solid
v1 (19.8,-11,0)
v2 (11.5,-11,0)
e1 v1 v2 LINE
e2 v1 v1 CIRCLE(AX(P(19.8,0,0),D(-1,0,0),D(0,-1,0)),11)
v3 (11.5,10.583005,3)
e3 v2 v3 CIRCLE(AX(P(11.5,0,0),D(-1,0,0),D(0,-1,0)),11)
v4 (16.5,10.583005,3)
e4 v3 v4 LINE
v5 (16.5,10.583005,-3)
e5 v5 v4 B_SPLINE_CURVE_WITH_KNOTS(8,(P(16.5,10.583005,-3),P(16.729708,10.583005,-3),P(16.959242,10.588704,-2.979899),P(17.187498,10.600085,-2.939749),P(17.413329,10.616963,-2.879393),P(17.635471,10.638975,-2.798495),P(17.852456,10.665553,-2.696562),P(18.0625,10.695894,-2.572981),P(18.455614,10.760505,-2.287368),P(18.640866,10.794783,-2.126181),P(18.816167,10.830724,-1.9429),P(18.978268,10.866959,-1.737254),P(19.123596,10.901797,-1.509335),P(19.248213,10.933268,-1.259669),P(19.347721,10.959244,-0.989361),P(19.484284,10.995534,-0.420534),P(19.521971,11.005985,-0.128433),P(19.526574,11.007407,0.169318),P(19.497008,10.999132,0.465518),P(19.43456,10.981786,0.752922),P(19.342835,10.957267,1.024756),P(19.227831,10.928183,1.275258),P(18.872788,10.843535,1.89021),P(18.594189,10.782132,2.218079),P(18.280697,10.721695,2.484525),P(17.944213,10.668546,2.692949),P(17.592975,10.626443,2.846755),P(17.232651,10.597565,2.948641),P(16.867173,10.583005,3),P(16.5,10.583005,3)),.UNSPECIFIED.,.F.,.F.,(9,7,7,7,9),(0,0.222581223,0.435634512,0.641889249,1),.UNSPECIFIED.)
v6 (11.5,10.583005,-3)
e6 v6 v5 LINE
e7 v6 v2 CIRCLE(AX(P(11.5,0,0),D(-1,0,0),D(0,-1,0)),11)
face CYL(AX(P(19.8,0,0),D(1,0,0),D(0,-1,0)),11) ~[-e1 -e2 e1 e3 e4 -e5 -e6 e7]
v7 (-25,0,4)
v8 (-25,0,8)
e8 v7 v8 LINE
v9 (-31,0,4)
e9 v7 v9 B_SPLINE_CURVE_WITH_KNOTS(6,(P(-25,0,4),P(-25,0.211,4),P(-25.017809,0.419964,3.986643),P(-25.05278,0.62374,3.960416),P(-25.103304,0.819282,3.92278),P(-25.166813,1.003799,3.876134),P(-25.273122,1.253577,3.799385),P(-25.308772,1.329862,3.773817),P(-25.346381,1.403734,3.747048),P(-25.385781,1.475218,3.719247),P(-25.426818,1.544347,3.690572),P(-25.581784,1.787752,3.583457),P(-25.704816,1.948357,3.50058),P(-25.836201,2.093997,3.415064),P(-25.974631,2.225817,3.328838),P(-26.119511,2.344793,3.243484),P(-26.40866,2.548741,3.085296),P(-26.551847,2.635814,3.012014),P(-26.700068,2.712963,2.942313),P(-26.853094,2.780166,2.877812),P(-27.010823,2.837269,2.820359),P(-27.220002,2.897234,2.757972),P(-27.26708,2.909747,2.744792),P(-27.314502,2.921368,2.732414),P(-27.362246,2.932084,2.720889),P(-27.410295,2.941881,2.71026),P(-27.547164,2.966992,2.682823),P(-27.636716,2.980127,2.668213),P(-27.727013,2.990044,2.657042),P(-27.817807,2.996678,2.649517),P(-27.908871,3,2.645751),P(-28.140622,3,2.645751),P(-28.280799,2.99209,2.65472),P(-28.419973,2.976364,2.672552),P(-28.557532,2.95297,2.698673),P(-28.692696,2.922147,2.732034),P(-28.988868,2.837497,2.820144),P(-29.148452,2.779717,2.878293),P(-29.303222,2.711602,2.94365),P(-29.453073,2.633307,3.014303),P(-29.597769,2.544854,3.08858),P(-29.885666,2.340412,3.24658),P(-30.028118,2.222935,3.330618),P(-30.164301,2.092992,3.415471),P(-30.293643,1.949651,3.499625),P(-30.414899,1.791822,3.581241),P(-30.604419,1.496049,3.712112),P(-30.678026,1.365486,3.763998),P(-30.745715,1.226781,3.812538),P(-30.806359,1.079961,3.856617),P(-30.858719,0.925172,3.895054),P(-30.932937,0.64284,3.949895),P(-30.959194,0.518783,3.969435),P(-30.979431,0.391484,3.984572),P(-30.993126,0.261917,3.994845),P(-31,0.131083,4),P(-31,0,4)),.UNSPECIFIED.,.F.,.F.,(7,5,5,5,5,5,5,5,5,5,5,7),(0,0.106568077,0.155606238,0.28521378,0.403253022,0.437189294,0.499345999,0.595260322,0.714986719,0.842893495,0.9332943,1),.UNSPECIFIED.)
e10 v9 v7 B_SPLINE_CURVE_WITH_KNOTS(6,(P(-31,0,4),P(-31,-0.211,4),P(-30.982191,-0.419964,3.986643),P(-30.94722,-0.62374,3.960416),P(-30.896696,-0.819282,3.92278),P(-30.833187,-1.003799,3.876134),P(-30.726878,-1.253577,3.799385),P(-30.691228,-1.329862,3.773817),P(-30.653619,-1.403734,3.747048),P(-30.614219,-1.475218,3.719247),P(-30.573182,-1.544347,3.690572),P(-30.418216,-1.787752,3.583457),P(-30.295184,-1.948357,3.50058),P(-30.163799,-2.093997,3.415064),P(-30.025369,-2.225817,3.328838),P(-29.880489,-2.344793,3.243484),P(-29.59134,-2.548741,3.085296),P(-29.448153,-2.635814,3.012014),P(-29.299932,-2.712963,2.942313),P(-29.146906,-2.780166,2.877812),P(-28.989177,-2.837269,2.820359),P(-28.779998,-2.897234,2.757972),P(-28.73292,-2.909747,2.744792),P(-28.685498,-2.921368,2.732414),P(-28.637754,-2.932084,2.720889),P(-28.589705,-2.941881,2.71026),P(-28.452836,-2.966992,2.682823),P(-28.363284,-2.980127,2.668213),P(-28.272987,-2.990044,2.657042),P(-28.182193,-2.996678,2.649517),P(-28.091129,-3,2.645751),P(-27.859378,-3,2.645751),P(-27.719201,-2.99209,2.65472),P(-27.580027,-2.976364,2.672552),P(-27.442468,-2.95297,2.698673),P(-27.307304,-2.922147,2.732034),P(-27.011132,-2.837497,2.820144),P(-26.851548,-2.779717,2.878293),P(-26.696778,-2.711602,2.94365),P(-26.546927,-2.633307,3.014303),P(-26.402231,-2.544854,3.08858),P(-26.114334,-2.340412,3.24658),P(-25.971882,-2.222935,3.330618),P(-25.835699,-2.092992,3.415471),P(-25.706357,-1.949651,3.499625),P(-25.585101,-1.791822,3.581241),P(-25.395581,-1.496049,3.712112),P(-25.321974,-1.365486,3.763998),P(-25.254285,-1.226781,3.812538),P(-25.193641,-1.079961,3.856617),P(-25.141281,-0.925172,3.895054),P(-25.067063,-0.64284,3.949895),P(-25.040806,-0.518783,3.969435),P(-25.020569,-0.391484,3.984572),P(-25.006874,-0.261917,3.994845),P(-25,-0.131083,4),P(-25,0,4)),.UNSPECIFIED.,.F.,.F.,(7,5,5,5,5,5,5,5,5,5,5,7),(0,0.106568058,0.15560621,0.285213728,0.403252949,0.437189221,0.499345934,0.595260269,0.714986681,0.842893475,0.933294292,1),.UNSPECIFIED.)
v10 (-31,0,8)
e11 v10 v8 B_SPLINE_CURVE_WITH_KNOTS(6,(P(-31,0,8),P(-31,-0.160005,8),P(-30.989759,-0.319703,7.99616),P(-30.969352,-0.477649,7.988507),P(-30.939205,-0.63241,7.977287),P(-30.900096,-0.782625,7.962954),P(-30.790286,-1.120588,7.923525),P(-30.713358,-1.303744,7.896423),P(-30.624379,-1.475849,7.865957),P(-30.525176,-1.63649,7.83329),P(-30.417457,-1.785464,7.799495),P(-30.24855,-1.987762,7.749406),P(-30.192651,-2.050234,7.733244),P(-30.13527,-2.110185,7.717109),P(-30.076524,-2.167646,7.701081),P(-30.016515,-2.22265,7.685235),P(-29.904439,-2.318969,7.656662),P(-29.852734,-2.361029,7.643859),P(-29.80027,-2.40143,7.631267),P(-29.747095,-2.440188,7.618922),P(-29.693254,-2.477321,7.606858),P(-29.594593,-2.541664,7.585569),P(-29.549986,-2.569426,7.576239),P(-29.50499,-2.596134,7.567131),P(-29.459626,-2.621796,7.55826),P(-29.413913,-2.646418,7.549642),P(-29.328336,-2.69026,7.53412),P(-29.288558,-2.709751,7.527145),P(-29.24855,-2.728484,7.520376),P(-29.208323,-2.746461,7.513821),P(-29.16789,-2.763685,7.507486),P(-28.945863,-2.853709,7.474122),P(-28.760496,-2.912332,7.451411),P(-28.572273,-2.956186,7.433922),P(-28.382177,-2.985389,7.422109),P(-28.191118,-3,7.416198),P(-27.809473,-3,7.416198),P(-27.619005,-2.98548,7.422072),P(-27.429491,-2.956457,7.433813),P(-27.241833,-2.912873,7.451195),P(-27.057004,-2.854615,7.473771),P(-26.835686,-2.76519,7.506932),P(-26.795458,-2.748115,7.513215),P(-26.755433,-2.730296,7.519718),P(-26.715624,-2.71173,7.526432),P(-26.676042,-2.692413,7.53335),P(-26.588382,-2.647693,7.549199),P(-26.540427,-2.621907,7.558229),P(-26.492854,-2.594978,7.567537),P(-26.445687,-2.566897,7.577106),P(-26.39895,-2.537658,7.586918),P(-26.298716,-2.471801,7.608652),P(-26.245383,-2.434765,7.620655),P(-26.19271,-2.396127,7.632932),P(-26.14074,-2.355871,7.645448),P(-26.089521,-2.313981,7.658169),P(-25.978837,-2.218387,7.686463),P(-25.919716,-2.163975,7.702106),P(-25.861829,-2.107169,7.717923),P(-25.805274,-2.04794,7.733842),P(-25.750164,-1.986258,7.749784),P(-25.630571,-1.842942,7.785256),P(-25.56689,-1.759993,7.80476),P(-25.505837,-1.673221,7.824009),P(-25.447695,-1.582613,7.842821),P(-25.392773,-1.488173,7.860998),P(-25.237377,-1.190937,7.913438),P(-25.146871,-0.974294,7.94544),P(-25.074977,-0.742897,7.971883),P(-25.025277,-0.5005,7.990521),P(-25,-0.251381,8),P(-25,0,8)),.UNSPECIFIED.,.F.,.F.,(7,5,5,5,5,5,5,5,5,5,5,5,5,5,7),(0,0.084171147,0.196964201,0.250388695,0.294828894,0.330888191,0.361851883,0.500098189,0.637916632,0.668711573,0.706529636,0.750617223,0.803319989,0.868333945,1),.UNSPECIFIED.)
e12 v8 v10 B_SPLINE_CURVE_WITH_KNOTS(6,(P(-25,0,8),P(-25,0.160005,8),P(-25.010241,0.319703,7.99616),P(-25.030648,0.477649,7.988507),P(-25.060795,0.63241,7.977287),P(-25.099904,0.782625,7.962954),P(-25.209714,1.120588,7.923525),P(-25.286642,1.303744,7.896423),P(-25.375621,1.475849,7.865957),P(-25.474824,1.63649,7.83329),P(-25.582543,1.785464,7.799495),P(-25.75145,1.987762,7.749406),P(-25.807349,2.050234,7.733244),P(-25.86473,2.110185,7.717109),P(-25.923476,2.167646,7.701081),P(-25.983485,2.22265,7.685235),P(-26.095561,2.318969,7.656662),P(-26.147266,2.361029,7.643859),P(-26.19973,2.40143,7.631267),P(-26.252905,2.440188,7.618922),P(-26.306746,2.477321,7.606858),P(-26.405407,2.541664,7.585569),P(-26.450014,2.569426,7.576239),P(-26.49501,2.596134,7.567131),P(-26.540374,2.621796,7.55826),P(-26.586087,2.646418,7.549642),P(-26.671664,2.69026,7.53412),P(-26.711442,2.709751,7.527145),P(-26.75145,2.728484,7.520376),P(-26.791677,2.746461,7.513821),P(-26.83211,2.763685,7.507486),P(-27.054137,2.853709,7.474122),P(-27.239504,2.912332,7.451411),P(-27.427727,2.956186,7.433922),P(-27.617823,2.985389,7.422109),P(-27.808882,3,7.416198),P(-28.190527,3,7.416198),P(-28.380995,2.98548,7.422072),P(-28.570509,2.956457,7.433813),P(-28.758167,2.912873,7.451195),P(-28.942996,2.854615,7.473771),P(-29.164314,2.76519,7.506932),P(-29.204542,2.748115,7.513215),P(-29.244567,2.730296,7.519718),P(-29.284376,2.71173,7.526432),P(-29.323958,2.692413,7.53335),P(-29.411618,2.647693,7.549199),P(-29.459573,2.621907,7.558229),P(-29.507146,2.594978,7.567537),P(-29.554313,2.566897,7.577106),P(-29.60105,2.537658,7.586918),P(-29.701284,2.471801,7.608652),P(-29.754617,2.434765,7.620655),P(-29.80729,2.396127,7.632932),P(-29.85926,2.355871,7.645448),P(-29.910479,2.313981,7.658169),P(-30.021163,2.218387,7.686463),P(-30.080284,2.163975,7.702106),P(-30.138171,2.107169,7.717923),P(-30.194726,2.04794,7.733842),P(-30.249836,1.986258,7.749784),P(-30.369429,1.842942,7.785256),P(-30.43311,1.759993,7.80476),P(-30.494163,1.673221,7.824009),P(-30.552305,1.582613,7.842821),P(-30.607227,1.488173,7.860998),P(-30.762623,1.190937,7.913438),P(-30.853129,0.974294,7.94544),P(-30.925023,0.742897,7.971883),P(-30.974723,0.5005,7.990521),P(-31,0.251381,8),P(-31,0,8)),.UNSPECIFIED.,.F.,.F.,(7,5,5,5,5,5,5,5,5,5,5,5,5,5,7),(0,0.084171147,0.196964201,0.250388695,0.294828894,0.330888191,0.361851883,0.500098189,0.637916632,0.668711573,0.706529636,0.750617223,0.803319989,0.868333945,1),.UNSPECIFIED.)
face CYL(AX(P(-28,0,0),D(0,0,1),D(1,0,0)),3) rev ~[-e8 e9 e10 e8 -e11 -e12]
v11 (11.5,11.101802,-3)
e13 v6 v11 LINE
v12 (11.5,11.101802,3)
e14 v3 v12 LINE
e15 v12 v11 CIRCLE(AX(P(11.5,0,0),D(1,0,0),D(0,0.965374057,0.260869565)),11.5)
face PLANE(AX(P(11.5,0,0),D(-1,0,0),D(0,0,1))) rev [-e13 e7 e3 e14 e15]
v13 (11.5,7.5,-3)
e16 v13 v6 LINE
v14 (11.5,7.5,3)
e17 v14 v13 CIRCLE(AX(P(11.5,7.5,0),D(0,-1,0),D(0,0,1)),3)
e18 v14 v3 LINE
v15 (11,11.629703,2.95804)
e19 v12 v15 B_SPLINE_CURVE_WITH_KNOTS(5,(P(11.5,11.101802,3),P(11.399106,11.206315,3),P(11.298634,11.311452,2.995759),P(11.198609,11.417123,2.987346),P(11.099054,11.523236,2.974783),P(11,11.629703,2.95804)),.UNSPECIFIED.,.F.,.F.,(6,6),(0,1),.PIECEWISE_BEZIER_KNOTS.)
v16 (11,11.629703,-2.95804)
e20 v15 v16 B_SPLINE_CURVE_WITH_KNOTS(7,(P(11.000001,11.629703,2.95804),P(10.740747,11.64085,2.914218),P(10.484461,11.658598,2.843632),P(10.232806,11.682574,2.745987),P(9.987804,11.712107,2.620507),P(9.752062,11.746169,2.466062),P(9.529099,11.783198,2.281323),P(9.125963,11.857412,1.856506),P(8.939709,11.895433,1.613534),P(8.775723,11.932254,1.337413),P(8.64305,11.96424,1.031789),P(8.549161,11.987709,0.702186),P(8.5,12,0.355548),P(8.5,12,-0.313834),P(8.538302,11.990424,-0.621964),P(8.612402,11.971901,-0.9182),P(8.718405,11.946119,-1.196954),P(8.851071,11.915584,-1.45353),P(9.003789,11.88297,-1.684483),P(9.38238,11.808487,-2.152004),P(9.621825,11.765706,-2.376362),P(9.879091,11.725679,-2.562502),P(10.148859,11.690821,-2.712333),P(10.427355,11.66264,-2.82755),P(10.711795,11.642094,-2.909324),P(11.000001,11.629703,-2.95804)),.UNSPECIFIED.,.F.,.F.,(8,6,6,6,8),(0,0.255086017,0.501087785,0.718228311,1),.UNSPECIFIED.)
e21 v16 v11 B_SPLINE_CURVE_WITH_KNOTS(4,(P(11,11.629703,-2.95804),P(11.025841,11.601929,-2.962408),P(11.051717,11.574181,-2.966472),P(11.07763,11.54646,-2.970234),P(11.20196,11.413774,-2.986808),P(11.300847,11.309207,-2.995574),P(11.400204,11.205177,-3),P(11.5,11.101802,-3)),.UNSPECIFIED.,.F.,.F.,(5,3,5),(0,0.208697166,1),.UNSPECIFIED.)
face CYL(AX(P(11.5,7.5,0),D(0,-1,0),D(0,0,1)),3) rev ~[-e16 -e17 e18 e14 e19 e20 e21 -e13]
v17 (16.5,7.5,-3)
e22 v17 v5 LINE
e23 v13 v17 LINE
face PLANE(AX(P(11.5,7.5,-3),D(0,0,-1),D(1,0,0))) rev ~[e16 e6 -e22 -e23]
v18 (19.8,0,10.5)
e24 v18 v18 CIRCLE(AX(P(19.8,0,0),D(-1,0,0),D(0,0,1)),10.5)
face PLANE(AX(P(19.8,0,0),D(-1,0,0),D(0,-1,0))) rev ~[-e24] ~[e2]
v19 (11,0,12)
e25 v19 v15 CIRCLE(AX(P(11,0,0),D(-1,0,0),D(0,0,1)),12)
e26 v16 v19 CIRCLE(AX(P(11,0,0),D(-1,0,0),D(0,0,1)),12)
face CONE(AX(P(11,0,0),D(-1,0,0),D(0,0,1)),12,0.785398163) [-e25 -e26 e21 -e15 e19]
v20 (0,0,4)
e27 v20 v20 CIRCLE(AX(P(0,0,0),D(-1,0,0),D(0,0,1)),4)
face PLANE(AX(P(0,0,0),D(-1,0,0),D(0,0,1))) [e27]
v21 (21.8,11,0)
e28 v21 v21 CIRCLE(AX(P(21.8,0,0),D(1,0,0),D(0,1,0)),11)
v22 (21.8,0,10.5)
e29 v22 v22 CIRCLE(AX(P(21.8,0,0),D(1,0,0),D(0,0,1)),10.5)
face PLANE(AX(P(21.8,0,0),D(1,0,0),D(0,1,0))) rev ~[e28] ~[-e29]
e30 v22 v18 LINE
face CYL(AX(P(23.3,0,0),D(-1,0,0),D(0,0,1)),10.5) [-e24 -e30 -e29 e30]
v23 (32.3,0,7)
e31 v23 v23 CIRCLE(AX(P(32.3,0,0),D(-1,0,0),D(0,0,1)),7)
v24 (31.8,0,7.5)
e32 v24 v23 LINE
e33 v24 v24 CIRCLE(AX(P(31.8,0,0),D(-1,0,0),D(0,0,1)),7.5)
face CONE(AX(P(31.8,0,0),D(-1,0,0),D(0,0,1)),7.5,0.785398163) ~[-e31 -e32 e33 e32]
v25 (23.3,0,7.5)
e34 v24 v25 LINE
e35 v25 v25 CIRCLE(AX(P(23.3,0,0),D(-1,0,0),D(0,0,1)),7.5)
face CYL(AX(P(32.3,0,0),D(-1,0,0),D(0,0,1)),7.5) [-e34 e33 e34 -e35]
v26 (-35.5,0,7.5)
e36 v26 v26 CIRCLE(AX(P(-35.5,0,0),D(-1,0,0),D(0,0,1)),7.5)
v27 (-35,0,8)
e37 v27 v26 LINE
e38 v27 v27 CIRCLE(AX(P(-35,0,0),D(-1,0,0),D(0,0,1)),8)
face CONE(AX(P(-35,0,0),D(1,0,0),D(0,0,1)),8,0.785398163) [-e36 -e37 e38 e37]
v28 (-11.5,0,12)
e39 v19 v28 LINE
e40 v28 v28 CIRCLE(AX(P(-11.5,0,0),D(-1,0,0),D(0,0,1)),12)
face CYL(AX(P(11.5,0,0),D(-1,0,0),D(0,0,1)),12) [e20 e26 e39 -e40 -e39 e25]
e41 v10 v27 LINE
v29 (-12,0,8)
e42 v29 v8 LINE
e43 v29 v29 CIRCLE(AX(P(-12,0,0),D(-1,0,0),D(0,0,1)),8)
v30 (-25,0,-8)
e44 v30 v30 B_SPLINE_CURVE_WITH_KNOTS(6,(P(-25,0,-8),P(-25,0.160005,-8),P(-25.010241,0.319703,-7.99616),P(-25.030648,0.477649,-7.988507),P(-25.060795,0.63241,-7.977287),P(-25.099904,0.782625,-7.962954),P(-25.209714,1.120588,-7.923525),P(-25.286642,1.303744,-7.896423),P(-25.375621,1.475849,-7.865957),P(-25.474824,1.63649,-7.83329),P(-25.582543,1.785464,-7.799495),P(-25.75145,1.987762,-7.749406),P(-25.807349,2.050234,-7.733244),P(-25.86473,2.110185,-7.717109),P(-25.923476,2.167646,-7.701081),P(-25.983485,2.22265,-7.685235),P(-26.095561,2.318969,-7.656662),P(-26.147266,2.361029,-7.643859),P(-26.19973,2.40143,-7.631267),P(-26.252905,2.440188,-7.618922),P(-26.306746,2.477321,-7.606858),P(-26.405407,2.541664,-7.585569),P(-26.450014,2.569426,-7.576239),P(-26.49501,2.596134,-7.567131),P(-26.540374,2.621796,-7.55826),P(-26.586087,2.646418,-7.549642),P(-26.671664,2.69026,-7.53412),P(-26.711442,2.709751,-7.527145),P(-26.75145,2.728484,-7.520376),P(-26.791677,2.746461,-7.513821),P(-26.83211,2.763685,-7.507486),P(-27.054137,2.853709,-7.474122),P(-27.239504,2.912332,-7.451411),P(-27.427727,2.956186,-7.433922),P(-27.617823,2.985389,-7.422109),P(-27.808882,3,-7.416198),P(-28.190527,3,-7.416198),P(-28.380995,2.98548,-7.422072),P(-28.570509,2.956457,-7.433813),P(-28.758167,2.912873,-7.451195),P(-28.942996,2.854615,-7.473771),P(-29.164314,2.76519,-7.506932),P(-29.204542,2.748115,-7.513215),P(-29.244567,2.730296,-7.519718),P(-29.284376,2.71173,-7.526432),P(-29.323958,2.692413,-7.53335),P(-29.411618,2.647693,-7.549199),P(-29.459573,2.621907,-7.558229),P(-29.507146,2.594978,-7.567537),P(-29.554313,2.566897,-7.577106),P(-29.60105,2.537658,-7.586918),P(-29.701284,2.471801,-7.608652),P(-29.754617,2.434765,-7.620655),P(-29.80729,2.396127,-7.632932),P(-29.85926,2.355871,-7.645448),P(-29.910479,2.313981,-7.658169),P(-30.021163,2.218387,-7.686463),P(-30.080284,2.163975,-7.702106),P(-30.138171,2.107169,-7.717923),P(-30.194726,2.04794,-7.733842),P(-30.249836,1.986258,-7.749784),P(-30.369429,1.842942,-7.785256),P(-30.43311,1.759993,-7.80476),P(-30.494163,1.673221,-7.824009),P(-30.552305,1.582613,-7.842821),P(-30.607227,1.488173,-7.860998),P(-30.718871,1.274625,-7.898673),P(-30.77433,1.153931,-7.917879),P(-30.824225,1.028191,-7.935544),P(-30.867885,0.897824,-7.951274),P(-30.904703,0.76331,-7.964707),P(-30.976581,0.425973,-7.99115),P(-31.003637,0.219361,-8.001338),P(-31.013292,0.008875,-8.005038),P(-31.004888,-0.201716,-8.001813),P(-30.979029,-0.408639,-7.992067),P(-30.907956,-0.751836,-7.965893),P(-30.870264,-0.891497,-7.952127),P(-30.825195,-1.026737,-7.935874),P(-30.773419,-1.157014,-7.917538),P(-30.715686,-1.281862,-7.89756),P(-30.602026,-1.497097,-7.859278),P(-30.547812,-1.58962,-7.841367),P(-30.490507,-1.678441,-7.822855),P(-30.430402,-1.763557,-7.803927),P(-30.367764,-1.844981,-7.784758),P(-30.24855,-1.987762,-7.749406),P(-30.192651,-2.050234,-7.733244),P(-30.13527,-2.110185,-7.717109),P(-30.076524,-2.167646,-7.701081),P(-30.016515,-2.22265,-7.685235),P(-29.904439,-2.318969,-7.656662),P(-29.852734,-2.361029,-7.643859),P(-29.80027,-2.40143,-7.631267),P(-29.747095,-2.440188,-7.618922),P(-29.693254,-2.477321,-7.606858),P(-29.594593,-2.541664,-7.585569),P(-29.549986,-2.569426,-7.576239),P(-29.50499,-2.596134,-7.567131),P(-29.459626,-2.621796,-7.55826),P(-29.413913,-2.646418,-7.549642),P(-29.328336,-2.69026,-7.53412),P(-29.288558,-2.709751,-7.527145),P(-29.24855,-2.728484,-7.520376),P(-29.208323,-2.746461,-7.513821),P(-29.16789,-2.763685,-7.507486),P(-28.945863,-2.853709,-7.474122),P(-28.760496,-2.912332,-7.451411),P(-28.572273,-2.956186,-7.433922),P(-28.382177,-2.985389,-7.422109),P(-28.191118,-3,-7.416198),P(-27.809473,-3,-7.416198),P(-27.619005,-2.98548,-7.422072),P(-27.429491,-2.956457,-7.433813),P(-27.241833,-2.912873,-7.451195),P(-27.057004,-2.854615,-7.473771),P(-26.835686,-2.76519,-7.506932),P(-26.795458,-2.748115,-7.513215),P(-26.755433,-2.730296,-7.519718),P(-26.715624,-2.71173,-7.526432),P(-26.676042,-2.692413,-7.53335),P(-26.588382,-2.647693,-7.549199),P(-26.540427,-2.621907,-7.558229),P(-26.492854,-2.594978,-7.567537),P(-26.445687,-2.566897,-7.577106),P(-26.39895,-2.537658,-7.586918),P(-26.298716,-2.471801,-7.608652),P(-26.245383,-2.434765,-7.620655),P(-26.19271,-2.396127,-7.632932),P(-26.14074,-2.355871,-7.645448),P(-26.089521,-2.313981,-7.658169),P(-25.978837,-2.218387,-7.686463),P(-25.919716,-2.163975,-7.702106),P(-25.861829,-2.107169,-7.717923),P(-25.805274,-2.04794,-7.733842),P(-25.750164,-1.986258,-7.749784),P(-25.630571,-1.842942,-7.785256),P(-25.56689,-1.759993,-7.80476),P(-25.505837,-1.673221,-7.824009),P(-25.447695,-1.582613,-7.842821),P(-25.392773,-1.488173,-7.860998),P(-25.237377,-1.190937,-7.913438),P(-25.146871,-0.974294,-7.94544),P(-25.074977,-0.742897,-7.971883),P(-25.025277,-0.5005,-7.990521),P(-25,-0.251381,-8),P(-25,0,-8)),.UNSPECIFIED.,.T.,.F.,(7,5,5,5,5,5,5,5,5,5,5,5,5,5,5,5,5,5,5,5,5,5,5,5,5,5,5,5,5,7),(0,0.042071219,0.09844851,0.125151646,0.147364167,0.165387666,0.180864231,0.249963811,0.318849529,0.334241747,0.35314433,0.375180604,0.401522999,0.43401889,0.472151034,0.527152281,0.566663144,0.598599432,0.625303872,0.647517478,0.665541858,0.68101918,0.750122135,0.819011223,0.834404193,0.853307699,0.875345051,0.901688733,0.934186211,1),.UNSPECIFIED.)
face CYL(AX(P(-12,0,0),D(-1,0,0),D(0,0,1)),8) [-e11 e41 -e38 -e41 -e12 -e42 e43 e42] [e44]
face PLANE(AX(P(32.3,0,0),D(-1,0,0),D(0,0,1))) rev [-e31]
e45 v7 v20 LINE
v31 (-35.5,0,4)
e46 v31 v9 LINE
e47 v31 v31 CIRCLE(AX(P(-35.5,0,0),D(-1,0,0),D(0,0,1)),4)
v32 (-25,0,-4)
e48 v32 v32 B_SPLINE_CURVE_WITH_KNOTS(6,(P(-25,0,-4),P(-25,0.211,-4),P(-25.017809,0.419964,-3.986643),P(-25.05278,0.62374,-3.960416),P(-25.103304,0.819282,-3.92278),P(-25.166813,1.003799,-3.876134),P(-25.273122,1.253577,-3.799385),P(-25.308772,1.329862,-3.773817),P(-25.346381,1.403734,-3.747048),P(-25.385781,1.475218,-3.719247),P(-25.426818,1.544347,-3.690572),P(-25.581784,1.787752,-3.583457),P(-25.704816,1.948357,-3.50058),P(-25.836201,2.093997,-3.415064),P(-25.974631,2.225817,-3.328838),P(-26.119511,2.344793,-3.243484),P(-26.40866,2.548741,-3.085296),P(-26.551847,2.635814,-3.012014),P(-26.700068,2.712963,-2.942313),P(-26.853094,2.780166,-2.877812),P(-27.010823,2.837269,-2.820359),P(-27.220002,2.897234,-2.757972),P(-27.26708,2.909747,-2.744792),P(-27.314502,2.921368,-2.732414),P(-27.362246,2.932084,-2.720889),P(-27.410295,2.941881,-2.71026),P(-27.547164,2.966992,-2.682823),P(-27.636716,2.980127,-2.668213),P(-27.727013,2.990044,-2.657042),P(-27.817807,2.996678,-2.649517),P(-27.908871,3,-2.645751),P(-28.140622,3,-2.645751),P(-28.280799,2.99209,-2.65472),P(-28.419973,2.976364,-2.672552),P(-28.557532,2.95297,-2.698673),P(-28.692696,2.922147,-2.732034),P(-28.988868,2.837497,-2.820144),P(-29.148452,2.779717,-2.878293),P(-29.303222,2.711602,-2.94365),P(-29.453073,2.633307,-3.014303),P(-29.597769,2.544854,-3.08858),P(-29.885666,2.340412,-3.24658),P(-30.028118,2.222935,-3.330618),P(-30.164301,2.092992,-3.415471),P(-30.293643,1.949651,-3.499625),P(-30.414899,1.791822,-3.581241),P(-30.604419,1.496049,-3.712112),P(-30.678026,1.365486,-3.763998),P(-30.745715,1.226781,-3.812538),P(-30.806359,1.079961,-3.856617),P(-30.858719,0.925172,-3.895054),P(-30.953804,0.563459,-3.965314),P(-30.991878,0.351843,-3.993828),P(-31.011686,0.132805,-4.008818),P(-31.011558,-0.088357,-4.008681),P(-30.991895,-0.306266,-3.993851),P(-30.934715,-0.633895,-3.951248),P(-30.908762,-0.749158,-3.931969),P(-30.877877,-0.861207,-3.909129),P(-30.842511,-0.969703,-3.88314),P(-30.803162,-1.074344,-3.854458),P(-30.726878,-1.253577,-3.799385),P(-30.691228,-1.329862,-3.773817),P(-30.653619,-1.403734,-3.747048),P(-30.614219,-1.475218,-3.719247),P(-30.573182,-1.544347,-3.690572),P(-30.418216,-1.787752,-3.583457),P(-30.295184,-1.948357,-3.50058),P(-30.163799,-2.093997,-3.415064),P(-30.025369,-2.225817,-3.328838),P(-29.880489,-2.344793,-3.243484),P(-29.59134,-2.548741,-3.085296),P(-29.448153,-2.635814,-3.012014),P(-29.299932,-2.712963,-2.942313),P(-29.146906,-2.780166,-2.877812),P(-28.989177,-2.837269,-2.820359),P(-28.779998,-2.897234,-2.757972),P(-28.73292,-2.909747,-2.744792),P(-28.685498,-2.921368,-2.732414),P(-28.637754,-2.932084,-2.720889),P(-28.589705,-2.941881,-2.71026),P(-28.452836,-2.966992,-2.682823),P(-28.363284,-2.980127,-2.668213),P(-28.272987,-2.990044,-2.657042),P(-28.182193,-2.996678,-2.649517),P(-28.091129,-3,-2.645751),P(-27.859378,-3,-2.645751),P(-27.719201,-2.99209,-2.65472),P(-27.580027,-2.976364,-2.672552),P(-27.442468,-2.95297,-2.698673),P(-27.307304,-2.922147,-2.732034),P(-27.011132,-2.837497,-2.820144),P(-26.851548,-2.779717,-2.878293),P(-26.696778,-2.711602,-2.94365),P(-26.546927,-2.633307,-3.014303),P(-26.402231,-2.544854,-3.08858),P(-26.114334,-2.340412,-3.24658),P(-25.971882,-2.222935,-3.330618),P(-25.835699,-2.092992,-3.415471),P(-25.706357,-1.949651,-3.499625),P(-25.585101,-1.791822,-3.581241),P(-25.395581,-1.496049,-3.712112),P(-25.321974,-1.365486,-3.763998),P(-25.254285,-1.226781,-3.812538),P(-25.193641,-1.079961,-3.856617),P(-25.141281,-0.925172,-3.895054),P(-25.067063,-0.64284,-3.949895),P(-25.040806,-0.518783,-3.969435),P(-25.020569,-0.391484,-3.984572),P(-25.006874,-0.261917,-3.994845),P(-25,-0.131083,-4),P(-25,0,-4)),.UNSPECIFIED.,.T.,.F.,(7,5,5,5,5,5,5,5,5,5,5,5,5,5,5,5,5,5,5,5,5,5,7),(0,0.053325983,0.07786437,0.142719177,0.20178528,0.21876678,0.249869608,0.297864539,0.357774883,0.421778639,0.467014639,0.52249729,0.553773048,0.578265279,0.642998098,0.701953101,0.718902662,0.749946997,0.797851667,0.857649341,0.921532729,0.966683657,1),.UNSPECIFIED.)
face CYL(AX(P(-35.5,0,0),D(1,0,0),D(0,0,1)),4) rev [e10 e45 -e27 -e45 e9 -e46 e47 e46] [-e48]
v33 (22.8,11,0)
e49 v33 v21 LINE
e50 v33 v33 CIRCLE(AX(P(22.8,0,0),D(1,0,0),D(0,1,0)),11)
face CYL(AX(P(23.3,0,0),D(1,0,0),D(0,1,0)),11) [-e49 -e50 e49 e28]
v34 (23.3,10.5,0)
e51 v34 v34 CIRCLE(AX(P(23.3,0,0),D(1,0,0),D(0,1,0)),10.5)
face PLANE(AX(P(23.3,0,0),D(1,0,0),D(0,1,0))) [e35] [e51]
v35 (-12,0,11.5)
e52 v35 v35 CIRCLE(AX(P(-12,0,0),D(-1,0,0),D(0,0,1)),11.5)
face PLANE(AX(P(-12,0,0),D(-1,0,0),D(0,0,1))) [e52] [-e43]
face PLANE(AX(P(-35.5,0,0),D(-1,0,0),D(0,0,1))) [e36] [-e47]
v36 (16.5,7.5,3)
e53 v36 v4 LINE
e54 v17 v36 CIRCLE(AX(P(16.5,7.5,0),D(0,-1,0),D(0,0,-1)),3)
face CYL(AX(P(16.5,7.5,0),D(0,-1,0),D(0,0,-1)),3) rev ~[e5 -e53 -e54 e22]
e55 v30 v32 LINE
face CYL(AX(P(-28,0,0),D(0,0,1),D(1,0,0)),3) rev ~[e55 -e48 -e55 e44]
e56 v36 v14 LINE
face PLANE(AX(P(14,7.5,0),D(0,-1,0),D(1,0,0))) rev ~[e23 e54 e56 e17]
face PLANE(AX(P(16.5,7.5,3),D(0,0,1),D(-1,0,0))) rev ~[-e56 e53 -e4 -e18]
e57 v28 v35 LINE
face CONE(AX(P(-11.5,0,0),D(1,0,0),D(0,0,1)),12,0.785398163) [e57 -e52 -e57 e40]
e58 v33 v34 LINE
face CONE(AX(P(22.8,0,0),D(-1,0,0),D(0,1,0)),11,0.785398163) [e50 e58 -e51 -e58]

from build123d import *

# Parameters (mm, degrees)
F2_SIZE   = 0.5
F3_R      = 11
F3_R_2    = 10.5
F4_DEPTH  = 1.5
F6_R      = 11
F6_R_2    = 10.5
F7_DEPTH  = 8.3
F8_SIZE   = 0.5
F11_DEPTH = 25
F12_R     = 3
F13_DEPTH = 12.5


with BuildPart() as f1:
    # F0 (on Front) → F1 (revolve)
    with BuildSketch(Plane.XZ):
        Polygon((0, 4), (0, 0), (32.3, 0), (32.3, 7.5), (23.3, 7.5), (23.3, 10.5), (11.5, 10.5), (11.5, 12), (-12, 12), (-12, 8), (-35.5, 8), (-35.5, 4), align=None)
    revolve(axis=Axis((16.15, 0, 0), (-1, 0, 0)))

    # F2
    f2_edges = [f1.edges().sort_by_distance(p)[0] for p in [
        (-12, 0, -12),
    ]]
    chamfer(f2_edges, length=F2_SIZE)

    # F3 (on face) → F4 (join)
    with BuildSketch(Plane.YZ.offset(23.3)):
        Circle(F3_R)
        Circle(F3_R_2, mode=Mode.SUBTRACT)
    extrude(amount=-F4_DEPTH)

    # F6 (on offset) → F7 (join, through all)
    with BuildSketch(Plane(origin=(19.8, 0, 0), x_dir=(0, -1, 0), z_dir=(-1, 0, 0))):
        Circle(F6_R)
        Circle(F6_R_2, mode=Mode.SUBTRACT)
    extrude(amount=F7_DEPTH)

    # F8
    f8_edges = [f1.edges().sort_by_distance(p)[0] for p in [
        (32.3, 0, -7.5),
        (23.3, -11, 0),
        (11.5, 0, -12),
        (-35.5, 0, -8),
    ]]
    chamfer(f8_edges, length=F8_SIZE)

    # F10 (on offset) → F11 (cut)
    with BuildSketch(Plane.XZ.offset(-7.5)):
        with BuildLine():
            Line((11.5, -3), (16.5, -3))
            ThreePointArc((16.5, -3), (19.5, 0), (16.5, 3))
            Line((16.5, 3), (11.5, 3))
            ThreePointArc((11.5, 3), (8.5, 0), (11.5, -3))
        make_face()
    extrude(amount=-F11_DEPTH, mode=Mode.SUBTRACT)

    # F12 (on Top) → F13 (cut, symmetric)
    with BuildSketch(Plane.XY):
        with Locations((-28, 0)):
            Circle(F12_R)
    extrude(amount=F13_DEPTH, both=True, mode=Mode.SUBTRACT)


solid = f1.part
